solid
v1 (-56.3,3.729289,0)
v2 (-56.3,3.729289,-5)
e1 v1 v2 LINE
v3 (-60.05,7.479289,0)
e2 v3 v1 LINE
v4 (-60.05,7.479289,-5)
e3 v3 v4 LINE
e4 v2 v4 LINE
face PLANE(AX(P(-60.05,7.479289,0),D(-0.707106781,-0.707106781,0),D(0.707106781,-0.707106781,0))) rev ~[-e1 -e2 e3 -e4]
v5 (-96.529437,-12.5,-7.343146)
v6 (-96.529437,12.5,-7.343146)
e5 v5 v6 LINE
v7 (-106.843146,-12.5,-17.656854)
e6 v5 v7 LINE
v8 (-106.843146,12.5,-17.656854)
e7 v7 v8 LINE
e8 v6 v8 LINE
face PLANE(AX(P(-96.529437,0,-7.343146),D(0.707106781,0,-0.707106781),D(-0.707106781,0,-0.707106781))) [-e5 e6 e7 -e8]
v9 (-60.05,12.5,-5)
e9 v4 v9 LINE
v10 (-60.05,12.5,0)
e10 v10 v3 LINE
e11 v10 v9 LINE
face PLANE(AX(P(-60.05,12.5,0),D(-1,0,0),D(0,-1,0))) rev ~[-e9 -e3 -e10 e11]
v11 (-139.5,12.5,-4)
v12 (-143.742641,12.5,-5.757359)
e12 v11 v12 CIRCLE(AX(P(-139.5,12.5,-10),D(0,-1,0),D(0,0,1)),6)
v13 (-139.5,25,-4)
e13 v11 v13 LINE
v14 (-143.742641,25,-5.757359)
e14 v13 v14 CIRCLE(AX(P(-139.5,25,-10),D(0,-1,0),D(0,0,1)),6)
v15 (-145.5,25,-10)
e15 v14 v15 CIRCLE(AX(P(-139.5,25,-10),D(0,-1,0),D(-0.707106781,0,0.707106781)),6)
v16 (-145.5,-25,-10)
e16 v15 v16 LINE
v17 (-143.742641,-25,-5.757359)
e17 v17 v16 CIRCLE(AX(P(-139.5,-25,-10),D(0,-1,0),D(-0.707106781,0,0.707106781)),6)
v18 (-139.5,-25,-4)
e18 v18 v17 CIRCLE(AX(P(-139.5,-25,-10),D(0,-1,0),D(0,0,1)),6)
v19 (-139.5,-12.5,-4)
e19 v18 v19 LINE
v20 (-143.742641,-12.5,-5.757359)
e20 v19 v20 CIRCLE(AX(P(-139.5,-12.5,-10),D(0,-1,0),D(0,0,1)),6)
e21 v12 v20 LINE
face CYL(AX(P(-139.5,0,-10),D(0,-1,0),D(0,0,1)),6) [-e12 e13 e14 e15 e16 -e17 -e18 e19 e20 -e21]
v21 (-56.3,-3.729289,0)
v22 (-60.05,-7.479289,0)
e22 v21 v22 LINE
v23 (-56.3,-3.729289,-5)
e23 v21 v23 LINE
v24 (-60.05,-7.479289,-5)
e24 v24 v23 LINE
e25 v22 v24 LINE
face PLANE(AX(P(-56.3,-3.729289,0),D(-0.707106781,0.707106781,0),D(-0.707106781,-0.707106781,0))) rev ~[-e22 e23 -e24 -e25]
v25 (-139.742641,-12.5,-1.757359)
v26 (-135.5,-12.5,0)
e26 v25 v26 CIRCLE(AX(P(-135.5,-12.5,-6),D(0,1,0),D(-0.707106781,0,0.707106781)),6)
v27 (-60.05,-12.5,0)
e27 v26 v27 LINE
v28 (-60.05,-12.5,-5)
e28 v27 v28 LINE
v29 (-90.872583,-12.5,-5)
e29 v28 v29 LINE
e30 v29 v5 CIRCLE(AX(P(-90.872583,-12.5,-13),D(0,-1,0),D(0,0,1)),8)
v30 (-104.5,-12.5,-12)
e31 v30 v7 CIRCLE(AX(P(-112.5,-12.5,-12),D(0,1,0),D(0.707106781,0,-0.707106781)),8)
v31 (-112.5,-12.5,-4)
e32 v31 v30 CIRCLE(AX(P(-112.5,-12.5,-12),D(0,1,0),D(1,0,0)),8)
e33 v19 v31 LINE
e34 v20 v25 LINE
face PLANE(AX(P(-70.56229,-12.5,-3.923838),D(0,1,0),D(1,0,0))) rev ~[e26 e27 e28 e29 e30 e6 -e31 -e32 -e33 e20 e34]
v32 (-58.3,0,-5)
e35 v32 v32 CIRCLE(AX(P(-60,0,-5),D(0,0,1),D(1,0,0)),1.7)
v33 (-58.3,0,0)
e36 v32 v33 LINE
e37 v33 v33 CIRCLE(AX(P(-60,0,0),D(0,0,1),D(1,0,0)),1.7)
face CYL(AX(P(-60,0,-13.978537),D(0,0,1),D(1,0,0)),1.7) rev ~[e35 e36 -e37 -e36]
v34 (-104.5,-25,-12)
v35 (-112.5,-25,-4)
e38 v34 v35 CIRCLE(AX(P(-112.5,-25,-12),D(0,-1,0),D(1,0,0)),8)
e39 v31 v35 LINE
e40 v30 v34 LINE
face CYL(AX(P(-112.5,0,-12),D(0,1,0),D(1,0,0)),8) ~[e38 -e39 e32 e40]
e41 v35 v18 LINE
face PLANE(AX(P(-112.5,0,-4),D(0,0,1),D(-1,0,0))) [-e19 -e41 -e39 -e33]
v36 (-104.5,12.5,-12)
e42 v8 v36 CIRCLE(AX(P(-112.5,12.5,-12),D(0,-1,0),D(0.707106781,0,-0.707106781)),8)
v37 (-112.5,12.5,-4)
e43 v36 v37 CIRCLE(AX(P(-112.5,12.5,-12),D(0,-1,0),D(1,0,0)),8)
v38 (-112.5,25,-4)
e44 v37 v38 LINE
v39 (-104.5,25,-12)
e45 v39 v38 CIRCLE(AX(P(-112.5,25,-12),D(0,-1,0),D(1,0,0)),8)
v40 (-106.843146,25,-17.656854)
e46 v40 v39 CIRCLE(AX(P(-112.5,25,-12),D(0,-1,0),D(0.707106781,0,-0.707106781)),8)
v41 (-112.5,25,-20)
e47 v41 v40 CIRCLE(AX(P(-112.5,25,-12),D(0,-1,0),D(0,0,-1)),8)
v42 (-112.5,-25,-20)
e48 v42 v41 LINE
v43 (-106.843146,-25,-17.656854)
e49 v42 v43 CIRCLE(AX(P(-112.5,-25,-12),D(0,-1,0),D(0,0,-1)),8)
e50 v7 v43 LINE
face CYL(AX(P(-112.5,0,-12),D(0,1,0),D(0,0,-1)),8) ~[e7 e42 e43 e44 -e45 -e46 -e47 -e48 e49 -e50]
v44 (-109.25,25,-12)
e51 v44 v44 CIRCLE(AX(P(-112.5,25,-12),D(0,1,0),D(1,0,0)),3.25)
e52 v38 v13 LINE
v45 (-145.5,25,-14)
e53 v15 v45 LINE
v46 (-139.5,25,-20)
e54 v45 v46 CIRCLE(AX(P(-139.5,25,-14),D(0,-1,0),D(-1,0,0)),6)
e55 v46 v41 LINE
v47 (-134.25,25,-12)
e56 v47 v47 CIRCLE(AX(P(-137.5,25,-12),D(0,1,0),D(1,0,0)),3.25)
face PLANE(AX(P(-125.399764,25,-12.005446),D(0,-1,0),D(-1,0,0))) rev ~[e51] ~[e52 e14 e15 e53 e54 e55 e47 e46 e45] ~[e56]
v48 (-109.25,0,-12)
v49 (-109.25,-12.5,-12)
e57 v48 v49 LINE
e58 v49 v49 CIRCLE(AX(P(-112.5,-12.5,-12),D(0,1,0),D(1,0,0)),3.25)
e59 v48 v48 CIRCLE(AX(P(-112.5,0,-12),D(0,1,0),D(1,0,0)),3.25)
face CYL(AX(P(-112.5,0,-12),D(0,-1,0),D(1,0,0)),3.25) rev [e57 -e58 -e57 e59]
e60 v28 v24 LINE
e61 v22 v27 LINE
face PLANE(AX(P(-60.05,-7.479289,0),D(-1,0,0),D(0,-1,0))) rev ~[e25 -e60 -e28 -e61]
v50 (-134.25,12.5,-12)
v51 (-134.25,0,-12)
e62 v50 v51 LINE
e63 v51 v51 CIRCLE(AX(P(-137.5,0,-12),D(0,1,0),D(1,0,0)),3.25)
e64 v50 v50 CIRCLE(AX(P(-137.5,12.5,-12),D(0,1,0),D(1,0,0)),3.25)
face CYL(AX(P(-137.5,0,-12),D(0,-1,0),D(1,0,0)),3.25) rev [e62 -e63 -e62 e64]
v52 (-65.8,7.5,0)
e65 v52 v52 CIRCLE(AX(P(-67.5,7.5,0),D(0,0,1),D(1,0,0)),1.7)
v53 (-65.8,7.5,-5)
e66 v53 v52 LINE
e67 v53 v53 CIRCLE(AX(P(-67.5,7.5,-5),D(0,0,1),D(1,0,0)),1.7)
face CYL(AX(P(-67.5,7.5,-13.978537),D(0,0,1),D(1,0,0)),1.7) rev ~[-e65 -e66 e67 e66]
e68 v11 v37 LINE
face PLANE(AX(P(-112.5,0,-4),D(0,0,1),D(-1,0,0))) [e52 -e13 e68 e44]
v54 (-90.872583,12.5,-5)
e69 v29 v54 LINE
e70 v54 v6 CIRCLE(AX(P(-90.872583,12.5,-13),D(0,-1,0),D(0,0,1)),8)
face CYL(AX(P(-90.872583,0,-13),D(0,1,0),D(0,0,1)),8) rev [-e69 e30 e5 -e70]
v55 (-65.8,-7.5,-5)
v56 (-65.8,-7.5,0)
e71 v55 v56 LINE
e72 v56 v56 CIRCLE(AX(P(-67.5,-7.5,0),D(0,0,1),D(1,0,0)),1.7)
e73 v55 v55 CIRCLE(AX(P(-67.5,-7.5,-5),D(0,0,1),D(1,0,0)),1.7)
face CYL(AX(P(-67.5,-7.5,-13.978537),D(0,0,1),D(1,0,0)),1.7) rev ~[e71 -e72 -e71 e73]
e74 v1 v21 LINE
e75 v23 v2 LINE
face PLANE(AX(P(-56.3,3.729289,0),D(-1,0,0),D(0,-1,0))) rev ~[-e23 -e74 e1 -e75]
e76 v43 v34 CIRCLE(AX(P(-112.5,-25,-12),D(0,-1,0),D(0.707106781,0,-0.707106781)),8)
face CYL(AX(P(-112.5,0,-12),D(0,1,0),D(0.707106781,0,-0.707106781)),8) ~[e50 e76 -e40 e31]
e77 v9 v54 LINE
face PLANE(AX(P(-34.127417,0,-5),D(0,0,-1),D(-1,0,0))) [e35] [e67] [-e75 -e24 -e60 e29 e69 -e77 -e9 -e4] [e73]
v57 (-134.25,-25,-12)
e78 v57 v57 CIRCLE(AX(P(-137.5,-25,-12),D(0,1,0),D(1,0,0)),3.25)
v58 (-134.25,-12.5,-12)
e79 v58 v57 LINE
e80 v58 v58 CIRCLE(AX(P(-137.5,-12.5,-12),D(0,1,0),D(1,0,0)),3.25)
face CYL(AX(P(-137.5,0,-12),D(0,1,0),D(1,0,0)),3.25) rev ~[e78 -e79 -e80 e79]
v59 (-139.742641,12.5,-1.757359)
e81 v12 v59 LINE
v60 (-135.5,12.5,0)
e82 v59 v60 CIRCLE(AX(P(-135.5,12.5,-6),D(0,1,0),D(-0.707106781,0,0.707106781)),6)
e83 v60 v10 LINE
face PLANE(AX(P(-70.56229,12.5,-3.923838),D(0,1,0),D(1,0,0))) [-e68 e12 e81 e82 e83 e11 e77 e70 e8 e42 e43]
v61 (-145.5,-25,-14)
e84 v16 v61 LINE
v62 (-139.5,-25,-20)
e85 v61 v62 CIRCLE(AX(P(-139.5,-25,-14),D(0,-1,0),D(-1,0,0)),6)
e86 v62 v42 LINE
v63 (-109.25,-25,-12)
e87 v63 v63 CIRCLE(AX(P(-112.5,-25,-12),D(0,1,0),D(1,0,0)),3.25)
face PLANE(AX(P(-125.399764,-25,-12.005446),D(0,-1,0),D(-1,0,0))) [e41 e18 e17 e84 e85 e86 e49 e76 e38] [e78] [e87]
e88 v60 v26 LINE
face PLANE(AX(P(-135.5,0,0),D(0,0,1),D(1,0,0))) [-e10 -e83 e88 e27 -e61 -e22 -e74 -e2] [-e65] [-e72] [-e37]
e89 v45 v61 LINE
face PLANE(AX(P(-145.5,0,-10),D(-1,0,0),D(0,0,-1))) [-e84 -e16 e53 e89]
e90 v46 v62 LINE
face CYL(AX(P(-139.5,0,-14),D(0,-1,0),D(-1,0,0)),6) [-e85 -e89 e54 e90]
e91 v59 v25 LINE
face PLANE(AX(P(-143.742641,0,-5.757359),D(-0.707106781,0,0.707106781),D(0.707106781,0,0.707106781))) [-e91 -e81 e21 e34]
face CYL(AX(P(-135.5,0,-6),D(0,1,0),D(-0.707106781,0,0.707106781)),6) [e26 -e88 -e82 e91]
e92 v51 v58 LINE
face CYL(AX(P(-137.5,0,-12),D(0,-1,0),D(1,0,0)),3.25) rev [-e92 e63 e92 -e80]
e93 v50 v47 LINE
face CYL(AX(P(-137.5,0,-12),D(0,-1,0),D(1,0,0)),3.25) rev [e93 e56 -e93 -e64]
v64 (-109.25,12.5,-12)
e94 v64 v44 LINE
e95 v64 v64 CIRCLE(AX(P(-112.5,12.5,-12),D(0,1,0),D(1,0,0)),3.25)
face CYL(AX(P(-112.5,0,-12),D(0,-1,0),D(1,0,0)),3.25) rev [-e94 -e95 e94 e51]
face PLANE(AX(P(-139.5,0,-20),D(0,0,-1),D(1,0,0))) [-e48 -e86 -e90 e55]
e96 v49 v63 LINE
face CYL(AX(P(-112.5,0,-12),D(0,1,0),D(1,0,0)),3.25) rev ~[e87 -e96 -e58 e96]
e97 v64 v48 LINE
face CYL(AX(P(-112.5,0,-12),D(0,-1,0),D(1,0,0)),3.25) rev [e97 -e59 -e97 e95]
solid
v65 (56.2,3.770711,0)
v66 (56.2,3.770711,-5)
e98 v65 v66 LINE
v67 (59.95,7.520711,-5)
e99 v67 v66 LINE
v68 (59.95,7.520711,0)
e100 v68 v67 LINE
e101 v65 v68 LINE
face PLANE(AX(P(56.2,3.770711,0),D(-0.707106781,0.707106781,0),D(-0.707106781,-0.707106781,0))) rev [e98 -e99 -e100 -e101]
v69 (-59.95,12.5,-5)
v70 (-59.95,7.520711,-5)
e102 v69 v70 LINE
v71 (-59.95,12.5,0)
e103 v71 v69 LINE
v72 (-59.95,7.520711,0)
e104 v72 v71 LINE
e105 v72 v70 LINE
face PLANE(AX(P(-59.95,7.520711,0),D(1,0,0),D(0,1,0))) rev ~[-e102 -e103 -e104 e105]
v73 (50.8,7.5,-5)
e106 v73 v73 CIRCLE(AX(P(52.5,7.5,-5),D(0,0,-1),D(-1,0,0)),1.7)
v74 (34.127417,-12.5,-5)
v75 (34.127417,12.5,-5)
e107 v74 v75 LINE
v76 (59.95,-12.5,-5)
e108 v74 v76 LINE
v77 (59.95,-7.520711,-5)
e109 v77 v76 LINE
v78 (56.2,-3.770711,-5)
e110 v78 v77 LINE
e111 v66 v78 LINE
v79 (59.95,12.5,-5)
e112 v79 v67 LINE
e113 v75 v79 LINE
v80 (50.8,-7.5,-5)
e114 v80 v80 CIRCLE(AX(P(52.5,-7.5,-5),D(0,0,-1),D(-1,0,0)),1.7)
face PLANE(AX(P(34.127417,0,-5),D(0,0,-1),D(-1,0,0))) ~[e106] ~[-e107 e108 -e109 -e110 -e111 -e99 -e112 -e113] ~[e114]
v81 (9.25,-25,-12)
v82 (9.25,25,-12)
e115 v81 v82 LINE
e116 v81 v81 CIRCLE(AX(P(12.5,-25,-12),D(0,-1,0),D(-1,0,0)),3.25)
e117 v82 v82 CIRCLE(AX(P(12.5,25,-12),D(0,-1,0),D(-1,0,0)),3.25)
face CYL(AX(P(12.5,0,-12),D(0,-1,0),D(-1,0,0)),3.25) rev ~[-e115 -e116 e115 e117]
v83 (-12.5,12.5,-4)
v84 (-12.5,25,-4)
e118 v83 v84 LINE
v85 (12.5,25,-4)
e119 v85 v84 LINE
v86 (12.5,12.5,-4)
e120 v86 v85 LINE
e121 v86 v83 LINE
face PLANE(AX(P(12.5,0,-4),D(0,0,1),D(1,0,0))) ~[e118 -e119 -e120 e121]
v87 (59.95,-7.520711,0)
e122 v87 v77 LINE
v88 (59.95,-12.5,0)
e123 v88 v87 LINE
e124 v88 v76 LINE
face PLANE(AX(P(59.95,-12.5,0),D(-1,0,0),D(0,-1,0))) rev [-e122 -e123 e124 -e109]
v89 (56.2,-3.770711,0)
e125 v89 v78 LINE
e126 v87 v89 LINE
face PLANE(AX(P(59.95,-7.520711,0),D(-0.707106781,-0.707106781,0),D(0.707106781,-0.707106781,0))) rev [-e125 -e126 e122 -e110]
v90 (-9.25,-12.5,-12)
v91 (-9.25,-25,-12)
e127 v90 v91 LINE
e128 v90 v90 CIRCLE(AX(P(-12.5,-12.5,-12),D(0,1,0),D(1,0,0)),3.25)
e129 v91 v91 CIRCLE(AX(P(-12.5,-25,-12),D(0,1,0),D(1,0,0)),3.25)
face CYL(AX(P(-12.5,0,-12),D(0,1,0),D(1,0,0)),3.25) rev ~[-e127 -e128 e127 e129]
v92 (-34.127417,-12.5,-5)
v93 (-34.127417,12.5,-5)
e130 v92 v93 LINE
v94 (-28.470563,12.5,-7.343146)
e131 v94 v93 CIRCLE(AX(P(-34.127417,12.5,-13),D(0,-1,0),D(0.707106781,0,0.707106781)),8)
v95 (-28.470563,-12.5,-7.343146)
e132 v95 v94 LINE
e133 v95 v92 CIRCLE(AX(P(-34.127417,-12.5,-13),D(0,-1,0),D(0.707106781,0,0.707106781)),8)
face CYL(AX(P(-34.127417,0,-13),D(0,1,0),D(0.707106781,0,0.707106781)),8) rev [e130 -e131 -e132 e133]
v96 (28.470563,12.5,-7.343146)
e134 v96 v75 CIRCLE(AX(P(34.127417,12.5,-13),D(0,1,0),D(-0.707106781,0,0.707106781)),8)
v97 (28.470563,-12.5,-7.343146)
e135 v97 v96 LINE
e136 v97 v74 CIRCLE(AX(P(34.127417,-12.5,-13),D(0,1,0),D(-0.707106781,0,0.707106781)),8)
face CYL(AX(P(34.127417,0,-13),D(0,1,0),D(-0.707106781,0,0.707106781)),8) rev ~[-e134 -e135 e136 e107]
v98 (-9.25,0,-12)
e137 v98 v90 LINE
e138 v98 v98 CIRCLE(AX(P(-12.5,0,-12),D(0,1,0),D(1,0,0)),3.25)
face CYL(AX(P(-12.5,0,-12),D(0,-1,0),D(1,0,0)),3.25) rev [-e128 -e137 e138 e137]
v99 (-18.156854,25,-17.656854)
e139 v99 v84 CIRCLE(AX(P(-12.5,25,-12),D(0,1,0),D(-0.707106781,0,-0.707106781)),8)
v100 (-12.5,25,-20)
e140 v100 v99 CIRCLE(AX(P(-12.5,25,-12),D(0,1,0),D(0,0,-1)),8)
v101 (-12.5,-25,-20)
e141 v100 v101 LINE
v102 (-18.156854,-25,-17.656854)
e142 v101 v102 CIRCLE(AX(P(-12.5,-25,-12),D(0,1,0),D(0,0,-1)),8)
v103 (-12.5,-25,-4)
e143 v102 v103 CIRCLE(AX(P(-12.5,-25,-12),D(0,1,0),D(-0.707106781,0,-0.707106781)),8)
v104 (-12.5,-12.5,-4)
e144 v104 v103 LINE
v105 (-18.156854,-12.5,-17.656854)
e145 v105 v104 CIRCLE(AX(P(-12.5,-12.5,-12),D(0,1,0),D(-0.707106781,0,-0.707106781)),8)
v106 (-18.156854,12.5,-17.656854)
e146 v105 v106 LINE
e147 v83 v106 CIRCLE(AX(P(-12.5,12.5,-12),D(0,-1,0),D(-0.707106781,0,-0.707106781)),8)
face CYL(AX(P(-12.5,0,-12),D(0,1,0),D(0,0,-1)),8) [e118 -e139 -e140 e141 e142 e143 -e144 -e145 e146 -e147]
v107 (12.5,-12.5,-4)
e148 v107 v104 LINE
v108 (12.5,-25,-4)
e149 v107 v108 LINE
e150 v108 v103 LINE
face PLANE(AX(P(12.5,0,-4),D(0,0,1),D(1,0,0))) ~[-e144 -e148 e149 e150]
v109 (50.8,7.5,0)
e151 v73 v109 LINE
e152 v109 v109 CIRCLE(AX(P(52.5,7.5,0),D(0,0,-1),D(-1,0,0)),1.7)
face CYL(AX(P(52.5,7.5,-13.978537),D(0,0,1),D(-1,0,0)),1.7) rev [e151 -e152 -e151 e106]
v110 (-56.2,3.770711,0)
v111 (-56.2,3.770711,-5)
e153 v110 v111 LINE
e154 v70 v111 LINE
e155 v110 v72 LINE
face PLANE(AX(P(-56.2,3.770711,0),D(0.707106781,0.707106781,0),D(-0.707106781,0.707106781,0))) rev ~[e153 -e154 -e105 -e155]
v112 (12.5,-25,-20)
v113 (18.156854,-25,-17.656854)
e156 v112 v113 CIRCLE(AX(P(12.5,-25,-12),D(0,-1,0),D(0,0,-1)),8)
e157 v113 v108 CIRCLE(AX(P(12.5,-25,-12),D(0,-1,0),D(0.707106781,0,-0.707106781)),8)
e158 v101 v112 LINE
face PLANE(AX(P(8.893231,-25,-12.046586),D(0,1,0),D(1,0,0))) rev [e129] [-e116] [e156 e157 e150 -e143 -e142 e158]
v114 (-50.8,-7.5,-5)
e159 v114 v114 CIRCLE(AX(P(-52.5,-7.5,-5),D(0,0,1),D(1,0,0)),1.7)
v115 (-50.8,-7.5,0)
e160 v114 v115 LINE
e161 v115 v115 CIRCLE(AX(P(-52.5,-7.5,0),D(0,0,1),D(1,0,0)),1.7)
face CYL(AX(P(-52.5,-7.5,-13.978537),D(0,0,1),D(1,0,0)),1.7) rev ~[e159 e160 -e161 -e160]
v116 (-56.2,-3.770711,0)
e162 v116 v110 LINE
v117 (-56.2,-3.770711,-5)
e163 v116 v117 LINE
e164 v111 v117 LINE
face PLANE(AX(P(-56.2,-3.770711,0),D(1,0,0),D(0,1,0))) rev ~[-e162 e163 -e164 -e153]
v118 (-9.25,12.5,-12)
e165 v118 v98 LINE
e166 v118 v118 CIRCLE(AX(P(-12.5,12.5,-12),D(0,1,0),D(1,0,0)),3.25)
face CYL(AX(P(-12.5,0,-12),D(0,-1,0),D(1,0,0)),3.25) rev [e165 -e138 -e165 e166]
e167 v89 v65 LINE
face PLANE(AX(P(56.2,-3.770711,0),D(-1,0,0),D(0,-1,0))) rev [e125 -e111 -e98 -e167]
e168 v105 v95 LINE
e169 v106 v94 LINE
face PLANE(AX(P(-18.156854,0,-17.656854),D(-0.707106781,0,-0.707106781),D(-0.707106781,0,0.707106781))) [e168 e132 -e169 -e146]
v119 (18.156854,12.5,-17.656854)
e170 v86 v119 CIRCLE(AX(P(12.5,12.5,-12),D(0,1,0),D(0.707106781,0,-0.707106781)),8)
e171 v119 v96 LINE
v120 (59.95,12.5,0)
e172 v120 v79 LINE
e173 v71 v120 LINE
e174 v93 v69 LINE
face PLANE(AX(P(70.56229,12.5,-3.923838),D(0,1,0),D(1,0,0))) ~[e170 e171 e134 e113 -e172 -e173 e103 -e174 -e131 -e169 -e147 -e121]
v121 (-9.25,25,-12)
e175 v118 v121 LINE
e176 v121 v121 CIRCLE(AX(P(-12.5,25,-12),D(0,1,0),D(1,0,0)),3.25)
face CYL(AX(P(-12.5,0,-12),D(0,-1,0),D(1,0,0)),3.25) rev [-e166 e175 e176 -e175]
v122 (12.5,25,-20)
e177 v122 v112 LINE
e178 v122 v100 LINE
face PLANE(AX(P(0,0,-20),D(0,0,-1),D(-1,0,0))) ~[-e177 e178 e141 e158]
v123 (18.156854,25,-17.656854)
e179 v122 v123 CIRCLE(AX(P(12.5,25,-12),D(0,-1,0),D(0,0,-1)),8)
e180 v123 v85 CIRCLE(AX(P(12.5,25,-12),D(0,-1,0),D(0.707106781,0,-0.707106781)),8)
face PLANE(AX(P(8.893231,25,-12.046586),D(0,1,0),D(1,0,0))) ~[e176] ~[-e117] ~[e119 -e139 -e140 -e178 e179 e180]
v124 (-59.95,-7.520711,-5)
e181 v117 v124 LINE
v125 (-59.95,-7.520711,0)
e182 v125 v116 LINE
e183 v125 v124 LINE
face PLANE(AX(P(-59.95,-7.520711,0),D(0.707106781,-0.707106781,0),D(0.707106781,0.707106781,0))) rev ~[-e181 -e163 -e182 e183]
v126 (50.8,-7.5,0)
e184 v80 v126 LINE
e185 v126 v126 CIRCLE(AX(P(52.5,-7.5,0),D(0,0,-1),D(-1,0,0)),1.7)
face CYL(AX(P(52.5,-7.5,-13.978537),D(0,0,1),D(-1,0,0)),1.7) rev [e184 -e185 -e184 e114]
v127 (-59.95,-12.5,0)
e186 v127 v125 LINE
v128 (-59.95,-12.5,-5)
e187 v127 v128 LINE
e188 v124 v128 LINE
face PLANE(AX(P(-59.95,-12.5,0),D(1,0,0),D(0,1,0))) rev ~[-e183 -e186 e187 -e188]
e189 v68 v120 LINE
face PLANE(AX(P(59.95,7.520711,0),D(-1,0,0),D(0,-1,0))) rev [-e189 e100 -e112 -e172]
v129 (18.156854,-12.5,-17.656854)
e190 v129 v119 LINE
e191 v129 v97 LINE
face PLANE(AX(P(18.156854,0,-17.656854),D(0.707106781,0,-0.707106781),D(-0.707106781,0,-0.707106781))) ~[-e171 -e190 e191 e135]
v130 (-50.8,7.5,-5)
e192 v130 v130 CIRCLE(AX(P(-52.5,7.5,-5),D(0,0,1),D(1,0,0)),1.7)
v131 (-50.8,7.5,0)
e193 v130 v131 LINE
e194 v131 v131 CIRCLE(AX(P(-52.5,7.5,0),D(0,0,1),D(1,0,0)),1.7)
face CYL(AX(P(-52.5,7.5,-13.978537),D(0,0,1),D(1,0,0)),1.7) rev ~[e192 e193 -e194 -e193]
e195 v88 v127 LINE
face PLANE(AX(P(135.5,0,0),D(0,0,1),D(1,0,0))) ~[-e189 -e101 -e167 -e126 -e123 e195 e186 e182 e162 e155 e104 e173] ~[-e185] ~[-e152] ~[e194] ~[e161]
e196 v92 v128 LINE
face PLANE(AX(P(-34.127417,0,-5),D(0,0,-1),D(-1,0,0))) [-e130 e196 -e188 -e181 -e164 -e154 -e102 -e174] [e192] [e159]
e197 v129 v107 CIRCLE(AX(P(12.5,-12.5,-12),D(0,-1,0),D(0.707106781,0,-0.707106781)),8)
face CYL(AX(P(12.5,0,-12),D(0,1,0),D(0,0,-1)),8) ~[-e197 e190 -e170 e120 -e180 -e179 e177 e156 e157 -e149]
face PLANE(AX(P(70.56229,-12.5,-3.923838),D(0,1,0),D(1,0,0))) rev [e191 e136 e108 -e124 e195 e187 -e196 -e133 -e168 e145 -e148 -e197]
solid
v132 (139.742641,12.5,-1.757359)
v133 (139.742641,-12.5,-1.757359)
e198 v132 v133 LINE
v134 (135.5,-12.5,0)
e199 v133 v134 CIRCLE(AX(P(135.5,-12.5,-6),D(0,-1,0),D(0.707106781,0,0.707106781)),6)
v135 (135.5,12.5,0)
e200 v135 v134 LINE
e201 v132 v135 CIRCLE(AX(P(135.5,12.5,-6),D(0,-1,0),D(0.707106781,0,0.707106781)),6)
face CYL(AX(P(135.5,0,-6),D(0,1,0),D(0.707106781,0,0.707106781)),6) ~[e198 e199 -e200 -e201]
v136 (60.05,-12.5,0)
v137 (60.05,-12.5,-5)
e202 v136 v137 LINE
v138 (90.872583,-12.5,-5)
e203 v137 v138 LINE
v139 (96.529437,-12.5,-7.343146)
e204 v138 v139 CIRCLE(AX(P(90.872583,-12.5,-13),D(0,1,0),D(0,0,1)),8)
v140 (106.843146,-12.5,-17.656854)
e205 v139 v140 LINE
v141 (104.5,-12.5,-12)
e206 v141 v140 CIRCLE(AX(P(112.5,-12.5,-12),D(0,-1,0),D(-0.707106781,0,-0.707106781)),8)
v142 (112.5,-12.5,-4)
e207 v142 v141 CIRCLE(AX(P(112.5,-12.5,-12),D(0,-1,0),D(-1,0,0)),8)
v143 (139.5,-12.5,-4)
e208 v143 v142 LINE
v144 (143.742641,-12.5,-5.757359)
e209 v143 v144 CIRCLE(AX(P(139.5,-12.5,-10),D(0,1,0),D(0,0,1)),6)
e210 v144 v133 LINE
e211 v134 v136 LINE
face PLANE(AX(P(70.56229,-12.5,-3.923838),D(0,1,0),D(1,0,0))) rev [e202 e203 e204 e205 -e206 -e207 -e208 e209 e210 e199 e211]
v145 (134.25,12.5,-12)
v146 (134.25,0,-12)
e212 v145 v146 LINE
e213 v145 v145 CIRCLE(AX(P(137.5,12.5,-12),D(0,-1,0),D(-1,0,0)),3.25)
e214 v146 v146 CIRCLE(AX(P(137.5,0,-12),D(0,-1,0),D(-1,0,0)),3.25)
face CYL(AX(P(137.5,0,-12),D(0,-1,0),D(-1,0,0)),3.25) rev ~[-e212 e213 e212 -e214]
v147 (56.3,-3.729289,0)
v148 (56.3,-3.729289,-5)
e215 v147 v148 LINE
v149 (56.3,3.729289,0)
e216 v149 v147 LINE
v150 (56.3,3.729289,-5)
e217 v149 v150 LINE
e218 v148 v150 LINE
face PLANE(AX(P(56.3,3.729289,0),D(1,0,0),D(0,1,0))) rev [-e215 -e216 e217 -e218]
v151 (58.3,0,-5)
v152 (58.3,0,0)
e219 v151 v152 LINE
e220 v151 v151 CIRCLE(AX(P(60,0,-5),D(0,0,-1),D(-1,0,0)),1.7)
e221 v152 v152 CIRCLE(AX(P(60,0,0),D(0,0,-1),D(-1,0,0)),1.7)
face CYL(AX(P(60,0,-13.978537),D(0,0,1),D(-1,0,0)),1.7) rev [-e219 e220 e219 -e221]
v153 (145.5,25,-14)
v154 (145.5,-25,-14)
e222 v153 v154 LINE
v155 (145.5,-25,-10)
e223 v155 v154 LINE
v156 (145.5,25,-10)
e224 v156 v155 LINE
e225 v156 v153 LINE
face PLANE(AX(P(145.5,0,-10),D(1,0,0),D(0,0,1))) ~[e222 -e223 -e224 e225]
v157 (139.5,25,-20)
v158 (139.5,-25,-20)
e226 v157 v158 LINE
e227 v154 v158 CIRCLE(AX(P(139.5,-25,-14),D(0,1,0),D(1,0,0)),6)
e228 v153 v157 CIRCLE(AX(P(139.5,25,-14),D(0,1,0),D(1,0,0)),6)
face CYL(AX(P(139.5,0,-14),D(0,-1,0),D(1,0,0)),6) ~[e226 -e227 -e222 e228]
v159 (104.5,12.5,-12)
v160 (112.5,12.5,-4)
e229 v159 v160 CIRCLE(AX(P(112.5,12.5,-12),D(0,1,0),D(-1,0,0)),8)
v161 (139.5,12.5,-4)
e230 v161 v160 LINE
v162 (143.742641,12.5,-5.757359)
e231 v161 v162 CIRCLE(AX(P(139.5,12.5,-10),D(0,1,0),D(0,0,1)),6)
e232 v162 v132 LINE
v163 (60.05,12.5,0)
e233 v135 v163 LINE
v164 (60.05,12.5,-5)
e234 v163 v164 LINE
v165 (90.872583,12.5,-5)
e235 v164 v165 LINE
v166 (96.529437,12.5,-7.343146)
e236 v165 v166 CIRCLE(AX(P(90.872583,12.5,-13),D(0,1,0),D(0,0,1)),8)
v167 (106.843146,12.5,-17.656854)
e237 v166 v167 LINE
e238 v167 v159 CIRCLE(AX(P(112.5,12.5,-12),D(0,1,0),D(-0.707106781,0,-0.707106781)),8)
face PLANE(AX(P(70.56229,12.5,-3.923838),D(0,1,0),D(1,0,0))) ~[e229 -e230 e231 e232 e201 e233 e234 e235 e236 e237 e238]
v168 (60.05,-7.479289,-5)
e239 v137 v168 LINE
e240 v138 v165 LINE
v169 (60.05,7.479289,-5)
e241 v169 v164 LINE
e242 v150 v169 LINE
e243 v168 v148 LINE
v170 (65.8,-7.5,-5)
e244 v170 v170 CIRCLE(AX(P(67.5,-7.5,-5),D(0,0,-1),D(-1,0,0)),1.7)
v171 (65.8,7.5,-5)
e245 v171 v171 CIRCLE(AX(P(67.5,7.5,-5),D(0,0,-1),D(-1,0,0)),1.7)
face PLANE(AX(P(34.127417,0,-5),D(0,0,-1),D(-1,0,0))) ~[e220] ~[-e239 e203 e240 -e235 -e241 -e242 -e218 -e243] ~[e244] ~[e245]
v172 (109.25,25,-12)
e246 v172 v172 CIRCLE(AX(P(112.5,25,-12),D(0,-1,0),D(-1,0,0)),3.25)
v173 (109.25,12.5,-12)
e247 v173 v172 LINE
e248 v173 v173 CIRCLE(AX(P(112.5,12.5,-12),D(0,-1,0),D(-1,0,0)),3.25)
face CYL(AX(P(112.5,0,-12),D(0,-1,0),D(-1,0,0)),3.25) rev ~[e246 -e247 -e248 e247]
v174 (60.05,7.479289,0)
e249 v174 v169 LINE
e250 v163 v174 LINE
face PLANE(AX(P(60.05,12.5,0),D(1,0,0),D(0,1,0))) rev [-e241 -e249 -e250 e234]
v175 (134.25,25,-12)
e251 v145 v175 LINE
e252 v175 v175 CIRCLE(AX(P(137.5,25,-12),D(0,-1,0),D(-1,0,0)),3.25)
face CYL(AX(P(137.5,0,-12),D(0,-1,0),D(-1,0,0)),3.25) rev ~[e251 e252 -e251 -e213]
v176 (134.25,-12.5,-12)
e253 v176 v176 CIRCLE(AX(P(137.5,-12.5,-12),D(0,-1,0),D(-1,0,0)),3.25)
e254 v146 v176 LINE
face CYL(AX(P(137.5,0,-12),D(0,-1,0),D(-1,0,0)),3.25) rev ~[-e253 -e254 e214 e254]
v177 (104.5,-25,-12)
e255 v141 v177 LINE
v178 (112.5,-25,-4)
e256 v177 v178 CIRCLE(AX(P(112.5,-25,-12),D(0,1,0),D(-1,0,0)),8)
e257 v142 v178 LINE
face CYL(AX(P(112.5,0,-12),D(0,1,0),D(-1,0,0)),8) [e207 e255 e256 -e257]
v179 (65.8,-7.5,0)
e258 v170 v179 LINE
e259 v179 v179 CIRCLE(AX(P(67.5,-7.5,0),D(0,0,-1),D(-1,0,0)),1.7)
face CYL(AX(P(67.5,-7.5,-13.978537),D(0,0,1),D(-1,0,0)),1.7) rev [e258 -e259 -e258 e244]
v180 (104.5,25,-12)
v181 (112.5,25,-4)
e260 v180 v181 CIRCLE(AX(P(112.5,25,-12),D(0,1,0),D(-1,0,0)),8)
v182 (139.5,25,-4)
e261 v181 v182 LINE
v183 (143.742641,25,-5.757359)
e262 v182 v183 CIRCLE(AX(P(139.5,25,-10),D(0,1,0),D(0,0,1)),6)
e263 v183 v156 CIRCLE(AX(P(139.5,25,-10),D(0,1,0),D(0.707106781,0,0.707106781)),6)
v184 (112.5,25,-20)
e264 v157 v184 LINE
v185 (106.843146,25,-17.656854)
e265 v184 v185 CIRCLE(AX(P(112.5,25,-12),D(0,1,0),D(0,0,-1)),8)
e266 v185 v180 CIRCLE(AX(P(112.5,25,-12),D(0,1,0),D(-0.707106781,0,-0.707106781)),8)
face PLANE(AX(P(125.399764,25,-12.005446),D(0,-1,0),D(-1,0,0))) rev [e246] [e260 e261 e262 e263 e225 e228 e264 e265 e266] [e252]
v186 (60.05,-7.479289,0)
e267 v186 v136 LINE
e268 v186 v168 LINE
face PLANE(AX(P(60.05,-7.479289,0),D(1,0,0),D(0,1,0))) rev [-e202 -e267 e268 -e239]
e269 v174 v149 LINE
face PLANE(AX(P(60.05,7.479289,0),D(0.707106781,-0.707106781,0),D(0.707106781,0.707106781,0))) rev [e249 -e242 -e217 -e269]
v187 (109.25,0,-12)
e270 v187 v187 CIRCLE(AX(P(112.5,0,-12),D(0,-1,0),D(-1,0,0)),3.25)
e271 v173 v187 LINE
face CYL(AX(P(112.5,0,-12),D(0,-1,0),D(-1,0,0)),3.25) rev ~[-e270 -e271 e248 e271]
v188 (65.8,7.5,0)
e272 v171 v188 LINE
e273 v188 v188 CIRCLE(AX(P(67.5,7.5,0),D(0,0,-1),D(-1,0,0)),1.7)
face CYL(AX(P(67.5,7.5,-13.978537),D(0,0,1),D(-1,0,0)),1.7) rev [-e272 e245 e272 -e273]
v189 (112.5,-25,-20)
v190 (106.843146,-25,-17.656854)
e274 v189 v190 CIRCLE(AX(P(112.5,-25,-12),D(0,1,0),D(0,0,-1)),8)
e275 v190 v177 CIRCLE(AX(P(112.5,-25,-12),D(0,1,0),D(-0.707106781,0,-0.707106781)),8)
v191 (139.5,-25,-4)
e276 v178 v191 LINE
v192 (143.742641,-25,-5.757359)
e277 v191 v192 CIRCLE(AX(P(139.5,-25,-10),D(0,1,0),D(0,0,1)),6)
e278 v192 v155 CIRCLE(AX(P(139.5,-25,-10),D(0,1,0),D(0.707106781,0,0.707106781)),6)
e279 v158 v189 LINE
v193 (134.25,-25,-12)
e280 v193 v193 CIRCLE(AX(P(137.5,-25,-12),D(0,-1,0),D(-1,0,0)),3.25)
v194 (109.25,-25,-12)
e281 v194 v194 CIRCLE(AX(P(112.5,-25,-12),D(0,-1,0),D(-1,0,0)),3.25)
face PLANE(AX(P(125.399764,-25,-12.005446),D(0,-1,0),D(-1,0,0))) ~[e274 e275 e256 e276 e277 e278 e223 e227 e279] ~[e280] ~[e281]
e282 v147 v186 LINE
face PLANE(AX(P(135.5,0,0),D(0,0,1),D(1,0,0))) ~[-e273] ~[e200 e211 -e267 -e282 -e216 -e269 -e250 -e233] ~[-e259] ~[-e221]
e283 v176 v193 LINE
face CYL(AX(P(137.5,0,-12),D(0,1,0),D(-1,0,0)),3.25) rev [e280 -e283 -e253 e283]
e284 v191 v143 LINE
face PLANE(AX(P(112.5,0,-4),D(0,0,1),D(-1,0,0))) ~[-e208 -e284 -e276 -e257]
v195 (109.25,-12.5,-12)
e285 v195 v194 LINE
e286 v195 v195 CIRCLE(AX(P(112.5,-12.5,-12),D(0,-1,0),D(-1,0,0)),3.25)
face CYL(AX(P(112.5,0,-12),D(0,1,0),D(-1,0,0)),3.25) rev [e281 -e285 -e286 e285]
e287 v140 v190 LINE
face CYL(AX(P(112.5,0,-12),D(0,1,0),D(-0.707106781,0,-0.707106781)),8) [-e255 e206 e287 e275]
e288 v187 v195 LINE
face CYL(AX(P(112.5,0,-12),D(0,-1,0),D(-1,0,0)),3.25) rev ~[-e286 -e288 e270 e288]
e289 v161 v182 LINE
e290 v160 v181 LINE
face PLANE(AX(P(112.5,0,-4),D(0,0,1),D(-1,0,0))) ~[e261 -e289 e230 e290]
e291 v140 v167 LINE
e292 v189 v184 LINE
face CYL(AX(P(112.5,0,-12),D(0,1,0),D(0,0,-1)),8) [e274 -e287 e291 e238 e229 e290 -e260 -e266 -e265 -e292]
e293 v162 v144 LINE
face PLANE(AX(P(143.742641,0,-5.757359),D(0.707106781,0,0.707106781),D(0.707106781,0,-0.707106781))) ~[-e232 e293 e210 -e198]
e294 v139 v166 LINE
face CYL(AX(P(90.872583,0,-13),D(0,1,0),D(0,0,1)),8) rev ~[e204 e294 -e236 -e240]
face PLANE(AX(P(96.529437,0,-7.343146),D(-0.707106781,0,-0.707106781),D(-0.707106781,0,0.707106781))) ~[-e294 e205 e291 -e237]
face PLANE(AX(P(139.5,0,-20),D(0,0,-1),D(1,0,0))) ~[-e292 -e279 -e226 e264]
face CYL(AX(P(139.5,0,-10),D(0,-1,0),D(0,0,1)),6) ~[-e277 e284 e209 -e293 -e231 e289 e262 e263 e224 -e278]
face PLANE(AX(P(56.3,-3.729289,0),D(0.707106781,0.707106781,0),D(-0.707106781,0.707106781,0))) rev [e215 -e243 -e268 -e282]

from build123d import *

# Parameters (mm, degrees)
SKETCH1_R                    = 3.25
BOSS_EXTRUDE1_DEPTH          = 12.5
SKETCH1_3_R                  = 3.25
BOSS_EXTRUDE2_DEPTH          = 25
M3_CLEARANCE_HOLE1_D         = 3.4
M3_CLEARANCE_HOLE1_DEPTH     = 8.978536948
M3_CLEARANCE_HOLE1_TIP       = 1.021463052
CUT_EXTRUDE_THIN1_DEPTH      = 1
CUT_EXTRUDE_THIN1_DEPTH_BACK = 10


with BuildPart() as part:
    # Sketch1 → Boss-Extrude1 (new body, symmetric)
    with BuildSketch(Plane(origin=(0, 0, 0), x_dir=(1, 0, 0), z_dir=(0, 1, 0))):
        with BuildLine():
            Line((-135.5, 0), (0, 0))
            Line((0, 0), (0, 4))
            Line((0, 4), (-12.5, 4))
            ThreePointArc((-12.5, 4), (-19.89103626, 8.938532541), (-18.156854249, 17.656854249))
            Line((-18.156854249, 17.656854249), (-28.470562748, 7.343145751))
            ThreePointArc((-28.470562748, 7.343145751), (-31.065949539, 5.60896374), (-34.127416998, 5))
            Line((-34.127416998, 5), (-90.872583002, 5))
            ThreePointArc((-90.872583002, 5), (-93.934050461, 5.60896374), (-96.529437252, 7.343145751))
            Line((-96.529437252, 7.343145751), (-106.843145751, 17.656854249))
            ThreePointArc((-106.843145751, 17.656854249), (-105.10896374, 15.061467459), (-104.5, 12))
            ThreePointArc((-104.5, 12), (-106.843145751, 6.343145751), (-112.5, 4))
            Line((-112.5, 4), (-139.5, 4))
            ThreePointArc((-139.5, 4), (-141.796100594, 4.456722805), (-143.742640687, 5.757359313))
            Line((-143.742640687, 5.757359313), (-139.742640687, 1.757359313))
            ThreePointArc((-139.742640687, 1.757359313), (-137.796100594, 0.456722805), (-135.5, 0))
        make_face()
        with BuildLine():
            ThreePointArc((-139.5, 4), (-141.796100594, 4.456722805), (-143.742640687, 5.757359313))
            ThreePointArc((-143.742640687, 5.757359313), (-145.043277195, 7.703899406), (-145.5, 10))
            Line((-145.5, 10), (-145.5, 14))
            ThreePointArc((-145.5, 14), (-143.742640687, 18.242640687), (-139.5, 20))
            Line((-139.5, 20), (-112.5, 20))
            ThreePointArc((-112.5, 20), (-109.438532541, 19.39103626), (-106.843145751, 17.656854249))
            ThreePointArc((-106.843145751, 17.656854249), (-105.10896374, 15.061467459), (-104.5, 12))
            ThreePointArc((-104.5, 12), (-106.843145751, 6.343145751), (-112.5, 4))
            Line((-112.5, 4), (-139.5, 4))
        make_face()
        with Locations((-137.5, 12)):
            Circle(SKETCH1_R, mode=Mode.SUBTRACT)
        with Locations((-112.5, 12)):
            Circle(SKETCH1_R, mode=Mode.SUBTRACT)
        with BuildLine():
            Line((-12.5, 4), (0, 4))
            Line((0, 4), (0, 12))
            Line((0, 12), (0, 20))
            Line((0, 20), (-12.5, 20))
            ThreePointArc((-12.5, 20), (-15.561467459, 19.39103626), (-18.156854249, 17.656854249))
            ThreePointArc((-18.156854249, 17.656854249), (-19.89103626, 8.938532541), (-12.5, 4))
        make_face()
        with Locations((-12.5, 12)):
            Circle(SKETCH1_R, mode=Mode.SUBTRACT)
    extrude(amount=BOSS_EXTRUDE1_DEPTH, both=True)

    # Sketch1<3> → Boss-Extrude2 (add, symmetric)
    with BuildSketch(Plane(origin=(0, 0, 0), x_dir=(1, 0, 0), z_dir=(0, 1, 0))):
        with BuildLine():
            ThreePointArc((-139.5, 4), (-141.796100594, 4.456722805), (-143.742640687, 5.757359313))
            ThreePointArc((-143.742640687, 5.757359313), (-145.043277195, 7.703899406), (-145.5, 10))
            Line((-145.5, 10), (-145.5, 14))
            ThreePointArc((-145.5, 14), (-143.742640687, 18.242640687), (-139.5, 20))
            Line((-139.5, 20), (-112.5, 20))
            ThreePointArc((-112.5, 20), (-109.438532541, 19.39103626), (-106.843145751, 17.656854249))
            ThreePointArc((-106.843145751, 17.656854249), (-105.10896374, 15.061467459), (-104.5, 12))
            ThreePointArc((-104.5, 12), (-106.843145751, 6.343145751), (-112.5, 4))
            Line((-112.5, 4), (-139.5, 4))
        make_face()
        with Locations((-137.5, 12)):
            Circle(SKETCH1_3_R, mode=Mode.SUBTRACT)
        with Locations((-112.5, 12)):
            Circle(SKETCH1_3_R, mode=Mode.SUBTRACT)
        with BuildLine():
            Line((-12.5, 4), (0, 4))
            Line((0, 4), (0, 12))
            Line((0, 12), (0, 20))
            Line((0, 20), (-12.5, 20))
            ThreePointArc((-12.5, 20), (-15.561467459, 19.39103626), (-18.156854249, 17.656854249))
            ThreePointArc((-18.156854249, 17.656854249), (-19.89103626, 8.938532541), (-12.5, 4))
        make_face()
        with Locations((-12.5, 12)):
            Circle(SKETCH1_3_R, mode=Mode.SUBTRACT)
    extrude(amount=BOSS_EXTRUDE2_DEPTH, both=True)

    # M3 Clearance Hole1
    with Locations(Plane(origin=(0, 0, -5), x_dir=(-1, 0, 0), z_dir=(0, 0, -1))):
        with Locations((52.5, 7.5), (67.5, 7.5), (60, 0), (67.5, -7.5), (52.5, -7.5)):
            Hole(M3_CLEARANCE_HOLE1_D / 2, depth=M3_CLEARANCE_HOLE1_DEPTH)
            with Locations((0, 0, -(M3_CLEARANCE_HOLE1_DEPTH + M3_CLEARANCE_HOLE1_TIP / 2))):  # 118° drill point
                Cone(0, M3_CLEARANCE_HOLE1_D / 2, M3_CLEARANCE_HOLE1_TIP, mode=Mode.SUBTRACT)

    # Sketch2 → Cut-Extrude-Thin1 (cut, two sides)
    with BuildSketch(Plane.XY) as cut_extrude_thin1_sk:
        Polygon((-60.05, 12.5), (-60.05, 7.479289322), (-56.3, 3.729289322), (-56.3, -3.729289322), (-60.05, -7.479289322), (-60.05, -12.5), (-59.95, -12.5), (-59.95, -7.520710678), (-56.2, -3.770710678), (-56.2, 3.770710678), (-59.95, 7.520710678), (-59.95, 12.5), align=None)
    extrude(amount=CUT_EXTRUDE_THIN1_DEPTH, mode=Mode.SUBTRACT)
    extrude(cut_extrude_thin1_sk.sketch, amount=-CUT_EXTRUDE_THIN1_DEPTH_BACK, mode=Mode.SUBTRACT)


with BuildPart() as body_2:
    # Mirror1: mirrored copy
    add(part.part.mirror(Plane(origin=(0, 0, 0), x_dir=(0, 0, 1), z_dir=(1, 0, 0))))


with BuildPart() as part_1:
    add(part.part)

    # Combine1: union body 2
    add(body_2.part)


solid = part_1.part
